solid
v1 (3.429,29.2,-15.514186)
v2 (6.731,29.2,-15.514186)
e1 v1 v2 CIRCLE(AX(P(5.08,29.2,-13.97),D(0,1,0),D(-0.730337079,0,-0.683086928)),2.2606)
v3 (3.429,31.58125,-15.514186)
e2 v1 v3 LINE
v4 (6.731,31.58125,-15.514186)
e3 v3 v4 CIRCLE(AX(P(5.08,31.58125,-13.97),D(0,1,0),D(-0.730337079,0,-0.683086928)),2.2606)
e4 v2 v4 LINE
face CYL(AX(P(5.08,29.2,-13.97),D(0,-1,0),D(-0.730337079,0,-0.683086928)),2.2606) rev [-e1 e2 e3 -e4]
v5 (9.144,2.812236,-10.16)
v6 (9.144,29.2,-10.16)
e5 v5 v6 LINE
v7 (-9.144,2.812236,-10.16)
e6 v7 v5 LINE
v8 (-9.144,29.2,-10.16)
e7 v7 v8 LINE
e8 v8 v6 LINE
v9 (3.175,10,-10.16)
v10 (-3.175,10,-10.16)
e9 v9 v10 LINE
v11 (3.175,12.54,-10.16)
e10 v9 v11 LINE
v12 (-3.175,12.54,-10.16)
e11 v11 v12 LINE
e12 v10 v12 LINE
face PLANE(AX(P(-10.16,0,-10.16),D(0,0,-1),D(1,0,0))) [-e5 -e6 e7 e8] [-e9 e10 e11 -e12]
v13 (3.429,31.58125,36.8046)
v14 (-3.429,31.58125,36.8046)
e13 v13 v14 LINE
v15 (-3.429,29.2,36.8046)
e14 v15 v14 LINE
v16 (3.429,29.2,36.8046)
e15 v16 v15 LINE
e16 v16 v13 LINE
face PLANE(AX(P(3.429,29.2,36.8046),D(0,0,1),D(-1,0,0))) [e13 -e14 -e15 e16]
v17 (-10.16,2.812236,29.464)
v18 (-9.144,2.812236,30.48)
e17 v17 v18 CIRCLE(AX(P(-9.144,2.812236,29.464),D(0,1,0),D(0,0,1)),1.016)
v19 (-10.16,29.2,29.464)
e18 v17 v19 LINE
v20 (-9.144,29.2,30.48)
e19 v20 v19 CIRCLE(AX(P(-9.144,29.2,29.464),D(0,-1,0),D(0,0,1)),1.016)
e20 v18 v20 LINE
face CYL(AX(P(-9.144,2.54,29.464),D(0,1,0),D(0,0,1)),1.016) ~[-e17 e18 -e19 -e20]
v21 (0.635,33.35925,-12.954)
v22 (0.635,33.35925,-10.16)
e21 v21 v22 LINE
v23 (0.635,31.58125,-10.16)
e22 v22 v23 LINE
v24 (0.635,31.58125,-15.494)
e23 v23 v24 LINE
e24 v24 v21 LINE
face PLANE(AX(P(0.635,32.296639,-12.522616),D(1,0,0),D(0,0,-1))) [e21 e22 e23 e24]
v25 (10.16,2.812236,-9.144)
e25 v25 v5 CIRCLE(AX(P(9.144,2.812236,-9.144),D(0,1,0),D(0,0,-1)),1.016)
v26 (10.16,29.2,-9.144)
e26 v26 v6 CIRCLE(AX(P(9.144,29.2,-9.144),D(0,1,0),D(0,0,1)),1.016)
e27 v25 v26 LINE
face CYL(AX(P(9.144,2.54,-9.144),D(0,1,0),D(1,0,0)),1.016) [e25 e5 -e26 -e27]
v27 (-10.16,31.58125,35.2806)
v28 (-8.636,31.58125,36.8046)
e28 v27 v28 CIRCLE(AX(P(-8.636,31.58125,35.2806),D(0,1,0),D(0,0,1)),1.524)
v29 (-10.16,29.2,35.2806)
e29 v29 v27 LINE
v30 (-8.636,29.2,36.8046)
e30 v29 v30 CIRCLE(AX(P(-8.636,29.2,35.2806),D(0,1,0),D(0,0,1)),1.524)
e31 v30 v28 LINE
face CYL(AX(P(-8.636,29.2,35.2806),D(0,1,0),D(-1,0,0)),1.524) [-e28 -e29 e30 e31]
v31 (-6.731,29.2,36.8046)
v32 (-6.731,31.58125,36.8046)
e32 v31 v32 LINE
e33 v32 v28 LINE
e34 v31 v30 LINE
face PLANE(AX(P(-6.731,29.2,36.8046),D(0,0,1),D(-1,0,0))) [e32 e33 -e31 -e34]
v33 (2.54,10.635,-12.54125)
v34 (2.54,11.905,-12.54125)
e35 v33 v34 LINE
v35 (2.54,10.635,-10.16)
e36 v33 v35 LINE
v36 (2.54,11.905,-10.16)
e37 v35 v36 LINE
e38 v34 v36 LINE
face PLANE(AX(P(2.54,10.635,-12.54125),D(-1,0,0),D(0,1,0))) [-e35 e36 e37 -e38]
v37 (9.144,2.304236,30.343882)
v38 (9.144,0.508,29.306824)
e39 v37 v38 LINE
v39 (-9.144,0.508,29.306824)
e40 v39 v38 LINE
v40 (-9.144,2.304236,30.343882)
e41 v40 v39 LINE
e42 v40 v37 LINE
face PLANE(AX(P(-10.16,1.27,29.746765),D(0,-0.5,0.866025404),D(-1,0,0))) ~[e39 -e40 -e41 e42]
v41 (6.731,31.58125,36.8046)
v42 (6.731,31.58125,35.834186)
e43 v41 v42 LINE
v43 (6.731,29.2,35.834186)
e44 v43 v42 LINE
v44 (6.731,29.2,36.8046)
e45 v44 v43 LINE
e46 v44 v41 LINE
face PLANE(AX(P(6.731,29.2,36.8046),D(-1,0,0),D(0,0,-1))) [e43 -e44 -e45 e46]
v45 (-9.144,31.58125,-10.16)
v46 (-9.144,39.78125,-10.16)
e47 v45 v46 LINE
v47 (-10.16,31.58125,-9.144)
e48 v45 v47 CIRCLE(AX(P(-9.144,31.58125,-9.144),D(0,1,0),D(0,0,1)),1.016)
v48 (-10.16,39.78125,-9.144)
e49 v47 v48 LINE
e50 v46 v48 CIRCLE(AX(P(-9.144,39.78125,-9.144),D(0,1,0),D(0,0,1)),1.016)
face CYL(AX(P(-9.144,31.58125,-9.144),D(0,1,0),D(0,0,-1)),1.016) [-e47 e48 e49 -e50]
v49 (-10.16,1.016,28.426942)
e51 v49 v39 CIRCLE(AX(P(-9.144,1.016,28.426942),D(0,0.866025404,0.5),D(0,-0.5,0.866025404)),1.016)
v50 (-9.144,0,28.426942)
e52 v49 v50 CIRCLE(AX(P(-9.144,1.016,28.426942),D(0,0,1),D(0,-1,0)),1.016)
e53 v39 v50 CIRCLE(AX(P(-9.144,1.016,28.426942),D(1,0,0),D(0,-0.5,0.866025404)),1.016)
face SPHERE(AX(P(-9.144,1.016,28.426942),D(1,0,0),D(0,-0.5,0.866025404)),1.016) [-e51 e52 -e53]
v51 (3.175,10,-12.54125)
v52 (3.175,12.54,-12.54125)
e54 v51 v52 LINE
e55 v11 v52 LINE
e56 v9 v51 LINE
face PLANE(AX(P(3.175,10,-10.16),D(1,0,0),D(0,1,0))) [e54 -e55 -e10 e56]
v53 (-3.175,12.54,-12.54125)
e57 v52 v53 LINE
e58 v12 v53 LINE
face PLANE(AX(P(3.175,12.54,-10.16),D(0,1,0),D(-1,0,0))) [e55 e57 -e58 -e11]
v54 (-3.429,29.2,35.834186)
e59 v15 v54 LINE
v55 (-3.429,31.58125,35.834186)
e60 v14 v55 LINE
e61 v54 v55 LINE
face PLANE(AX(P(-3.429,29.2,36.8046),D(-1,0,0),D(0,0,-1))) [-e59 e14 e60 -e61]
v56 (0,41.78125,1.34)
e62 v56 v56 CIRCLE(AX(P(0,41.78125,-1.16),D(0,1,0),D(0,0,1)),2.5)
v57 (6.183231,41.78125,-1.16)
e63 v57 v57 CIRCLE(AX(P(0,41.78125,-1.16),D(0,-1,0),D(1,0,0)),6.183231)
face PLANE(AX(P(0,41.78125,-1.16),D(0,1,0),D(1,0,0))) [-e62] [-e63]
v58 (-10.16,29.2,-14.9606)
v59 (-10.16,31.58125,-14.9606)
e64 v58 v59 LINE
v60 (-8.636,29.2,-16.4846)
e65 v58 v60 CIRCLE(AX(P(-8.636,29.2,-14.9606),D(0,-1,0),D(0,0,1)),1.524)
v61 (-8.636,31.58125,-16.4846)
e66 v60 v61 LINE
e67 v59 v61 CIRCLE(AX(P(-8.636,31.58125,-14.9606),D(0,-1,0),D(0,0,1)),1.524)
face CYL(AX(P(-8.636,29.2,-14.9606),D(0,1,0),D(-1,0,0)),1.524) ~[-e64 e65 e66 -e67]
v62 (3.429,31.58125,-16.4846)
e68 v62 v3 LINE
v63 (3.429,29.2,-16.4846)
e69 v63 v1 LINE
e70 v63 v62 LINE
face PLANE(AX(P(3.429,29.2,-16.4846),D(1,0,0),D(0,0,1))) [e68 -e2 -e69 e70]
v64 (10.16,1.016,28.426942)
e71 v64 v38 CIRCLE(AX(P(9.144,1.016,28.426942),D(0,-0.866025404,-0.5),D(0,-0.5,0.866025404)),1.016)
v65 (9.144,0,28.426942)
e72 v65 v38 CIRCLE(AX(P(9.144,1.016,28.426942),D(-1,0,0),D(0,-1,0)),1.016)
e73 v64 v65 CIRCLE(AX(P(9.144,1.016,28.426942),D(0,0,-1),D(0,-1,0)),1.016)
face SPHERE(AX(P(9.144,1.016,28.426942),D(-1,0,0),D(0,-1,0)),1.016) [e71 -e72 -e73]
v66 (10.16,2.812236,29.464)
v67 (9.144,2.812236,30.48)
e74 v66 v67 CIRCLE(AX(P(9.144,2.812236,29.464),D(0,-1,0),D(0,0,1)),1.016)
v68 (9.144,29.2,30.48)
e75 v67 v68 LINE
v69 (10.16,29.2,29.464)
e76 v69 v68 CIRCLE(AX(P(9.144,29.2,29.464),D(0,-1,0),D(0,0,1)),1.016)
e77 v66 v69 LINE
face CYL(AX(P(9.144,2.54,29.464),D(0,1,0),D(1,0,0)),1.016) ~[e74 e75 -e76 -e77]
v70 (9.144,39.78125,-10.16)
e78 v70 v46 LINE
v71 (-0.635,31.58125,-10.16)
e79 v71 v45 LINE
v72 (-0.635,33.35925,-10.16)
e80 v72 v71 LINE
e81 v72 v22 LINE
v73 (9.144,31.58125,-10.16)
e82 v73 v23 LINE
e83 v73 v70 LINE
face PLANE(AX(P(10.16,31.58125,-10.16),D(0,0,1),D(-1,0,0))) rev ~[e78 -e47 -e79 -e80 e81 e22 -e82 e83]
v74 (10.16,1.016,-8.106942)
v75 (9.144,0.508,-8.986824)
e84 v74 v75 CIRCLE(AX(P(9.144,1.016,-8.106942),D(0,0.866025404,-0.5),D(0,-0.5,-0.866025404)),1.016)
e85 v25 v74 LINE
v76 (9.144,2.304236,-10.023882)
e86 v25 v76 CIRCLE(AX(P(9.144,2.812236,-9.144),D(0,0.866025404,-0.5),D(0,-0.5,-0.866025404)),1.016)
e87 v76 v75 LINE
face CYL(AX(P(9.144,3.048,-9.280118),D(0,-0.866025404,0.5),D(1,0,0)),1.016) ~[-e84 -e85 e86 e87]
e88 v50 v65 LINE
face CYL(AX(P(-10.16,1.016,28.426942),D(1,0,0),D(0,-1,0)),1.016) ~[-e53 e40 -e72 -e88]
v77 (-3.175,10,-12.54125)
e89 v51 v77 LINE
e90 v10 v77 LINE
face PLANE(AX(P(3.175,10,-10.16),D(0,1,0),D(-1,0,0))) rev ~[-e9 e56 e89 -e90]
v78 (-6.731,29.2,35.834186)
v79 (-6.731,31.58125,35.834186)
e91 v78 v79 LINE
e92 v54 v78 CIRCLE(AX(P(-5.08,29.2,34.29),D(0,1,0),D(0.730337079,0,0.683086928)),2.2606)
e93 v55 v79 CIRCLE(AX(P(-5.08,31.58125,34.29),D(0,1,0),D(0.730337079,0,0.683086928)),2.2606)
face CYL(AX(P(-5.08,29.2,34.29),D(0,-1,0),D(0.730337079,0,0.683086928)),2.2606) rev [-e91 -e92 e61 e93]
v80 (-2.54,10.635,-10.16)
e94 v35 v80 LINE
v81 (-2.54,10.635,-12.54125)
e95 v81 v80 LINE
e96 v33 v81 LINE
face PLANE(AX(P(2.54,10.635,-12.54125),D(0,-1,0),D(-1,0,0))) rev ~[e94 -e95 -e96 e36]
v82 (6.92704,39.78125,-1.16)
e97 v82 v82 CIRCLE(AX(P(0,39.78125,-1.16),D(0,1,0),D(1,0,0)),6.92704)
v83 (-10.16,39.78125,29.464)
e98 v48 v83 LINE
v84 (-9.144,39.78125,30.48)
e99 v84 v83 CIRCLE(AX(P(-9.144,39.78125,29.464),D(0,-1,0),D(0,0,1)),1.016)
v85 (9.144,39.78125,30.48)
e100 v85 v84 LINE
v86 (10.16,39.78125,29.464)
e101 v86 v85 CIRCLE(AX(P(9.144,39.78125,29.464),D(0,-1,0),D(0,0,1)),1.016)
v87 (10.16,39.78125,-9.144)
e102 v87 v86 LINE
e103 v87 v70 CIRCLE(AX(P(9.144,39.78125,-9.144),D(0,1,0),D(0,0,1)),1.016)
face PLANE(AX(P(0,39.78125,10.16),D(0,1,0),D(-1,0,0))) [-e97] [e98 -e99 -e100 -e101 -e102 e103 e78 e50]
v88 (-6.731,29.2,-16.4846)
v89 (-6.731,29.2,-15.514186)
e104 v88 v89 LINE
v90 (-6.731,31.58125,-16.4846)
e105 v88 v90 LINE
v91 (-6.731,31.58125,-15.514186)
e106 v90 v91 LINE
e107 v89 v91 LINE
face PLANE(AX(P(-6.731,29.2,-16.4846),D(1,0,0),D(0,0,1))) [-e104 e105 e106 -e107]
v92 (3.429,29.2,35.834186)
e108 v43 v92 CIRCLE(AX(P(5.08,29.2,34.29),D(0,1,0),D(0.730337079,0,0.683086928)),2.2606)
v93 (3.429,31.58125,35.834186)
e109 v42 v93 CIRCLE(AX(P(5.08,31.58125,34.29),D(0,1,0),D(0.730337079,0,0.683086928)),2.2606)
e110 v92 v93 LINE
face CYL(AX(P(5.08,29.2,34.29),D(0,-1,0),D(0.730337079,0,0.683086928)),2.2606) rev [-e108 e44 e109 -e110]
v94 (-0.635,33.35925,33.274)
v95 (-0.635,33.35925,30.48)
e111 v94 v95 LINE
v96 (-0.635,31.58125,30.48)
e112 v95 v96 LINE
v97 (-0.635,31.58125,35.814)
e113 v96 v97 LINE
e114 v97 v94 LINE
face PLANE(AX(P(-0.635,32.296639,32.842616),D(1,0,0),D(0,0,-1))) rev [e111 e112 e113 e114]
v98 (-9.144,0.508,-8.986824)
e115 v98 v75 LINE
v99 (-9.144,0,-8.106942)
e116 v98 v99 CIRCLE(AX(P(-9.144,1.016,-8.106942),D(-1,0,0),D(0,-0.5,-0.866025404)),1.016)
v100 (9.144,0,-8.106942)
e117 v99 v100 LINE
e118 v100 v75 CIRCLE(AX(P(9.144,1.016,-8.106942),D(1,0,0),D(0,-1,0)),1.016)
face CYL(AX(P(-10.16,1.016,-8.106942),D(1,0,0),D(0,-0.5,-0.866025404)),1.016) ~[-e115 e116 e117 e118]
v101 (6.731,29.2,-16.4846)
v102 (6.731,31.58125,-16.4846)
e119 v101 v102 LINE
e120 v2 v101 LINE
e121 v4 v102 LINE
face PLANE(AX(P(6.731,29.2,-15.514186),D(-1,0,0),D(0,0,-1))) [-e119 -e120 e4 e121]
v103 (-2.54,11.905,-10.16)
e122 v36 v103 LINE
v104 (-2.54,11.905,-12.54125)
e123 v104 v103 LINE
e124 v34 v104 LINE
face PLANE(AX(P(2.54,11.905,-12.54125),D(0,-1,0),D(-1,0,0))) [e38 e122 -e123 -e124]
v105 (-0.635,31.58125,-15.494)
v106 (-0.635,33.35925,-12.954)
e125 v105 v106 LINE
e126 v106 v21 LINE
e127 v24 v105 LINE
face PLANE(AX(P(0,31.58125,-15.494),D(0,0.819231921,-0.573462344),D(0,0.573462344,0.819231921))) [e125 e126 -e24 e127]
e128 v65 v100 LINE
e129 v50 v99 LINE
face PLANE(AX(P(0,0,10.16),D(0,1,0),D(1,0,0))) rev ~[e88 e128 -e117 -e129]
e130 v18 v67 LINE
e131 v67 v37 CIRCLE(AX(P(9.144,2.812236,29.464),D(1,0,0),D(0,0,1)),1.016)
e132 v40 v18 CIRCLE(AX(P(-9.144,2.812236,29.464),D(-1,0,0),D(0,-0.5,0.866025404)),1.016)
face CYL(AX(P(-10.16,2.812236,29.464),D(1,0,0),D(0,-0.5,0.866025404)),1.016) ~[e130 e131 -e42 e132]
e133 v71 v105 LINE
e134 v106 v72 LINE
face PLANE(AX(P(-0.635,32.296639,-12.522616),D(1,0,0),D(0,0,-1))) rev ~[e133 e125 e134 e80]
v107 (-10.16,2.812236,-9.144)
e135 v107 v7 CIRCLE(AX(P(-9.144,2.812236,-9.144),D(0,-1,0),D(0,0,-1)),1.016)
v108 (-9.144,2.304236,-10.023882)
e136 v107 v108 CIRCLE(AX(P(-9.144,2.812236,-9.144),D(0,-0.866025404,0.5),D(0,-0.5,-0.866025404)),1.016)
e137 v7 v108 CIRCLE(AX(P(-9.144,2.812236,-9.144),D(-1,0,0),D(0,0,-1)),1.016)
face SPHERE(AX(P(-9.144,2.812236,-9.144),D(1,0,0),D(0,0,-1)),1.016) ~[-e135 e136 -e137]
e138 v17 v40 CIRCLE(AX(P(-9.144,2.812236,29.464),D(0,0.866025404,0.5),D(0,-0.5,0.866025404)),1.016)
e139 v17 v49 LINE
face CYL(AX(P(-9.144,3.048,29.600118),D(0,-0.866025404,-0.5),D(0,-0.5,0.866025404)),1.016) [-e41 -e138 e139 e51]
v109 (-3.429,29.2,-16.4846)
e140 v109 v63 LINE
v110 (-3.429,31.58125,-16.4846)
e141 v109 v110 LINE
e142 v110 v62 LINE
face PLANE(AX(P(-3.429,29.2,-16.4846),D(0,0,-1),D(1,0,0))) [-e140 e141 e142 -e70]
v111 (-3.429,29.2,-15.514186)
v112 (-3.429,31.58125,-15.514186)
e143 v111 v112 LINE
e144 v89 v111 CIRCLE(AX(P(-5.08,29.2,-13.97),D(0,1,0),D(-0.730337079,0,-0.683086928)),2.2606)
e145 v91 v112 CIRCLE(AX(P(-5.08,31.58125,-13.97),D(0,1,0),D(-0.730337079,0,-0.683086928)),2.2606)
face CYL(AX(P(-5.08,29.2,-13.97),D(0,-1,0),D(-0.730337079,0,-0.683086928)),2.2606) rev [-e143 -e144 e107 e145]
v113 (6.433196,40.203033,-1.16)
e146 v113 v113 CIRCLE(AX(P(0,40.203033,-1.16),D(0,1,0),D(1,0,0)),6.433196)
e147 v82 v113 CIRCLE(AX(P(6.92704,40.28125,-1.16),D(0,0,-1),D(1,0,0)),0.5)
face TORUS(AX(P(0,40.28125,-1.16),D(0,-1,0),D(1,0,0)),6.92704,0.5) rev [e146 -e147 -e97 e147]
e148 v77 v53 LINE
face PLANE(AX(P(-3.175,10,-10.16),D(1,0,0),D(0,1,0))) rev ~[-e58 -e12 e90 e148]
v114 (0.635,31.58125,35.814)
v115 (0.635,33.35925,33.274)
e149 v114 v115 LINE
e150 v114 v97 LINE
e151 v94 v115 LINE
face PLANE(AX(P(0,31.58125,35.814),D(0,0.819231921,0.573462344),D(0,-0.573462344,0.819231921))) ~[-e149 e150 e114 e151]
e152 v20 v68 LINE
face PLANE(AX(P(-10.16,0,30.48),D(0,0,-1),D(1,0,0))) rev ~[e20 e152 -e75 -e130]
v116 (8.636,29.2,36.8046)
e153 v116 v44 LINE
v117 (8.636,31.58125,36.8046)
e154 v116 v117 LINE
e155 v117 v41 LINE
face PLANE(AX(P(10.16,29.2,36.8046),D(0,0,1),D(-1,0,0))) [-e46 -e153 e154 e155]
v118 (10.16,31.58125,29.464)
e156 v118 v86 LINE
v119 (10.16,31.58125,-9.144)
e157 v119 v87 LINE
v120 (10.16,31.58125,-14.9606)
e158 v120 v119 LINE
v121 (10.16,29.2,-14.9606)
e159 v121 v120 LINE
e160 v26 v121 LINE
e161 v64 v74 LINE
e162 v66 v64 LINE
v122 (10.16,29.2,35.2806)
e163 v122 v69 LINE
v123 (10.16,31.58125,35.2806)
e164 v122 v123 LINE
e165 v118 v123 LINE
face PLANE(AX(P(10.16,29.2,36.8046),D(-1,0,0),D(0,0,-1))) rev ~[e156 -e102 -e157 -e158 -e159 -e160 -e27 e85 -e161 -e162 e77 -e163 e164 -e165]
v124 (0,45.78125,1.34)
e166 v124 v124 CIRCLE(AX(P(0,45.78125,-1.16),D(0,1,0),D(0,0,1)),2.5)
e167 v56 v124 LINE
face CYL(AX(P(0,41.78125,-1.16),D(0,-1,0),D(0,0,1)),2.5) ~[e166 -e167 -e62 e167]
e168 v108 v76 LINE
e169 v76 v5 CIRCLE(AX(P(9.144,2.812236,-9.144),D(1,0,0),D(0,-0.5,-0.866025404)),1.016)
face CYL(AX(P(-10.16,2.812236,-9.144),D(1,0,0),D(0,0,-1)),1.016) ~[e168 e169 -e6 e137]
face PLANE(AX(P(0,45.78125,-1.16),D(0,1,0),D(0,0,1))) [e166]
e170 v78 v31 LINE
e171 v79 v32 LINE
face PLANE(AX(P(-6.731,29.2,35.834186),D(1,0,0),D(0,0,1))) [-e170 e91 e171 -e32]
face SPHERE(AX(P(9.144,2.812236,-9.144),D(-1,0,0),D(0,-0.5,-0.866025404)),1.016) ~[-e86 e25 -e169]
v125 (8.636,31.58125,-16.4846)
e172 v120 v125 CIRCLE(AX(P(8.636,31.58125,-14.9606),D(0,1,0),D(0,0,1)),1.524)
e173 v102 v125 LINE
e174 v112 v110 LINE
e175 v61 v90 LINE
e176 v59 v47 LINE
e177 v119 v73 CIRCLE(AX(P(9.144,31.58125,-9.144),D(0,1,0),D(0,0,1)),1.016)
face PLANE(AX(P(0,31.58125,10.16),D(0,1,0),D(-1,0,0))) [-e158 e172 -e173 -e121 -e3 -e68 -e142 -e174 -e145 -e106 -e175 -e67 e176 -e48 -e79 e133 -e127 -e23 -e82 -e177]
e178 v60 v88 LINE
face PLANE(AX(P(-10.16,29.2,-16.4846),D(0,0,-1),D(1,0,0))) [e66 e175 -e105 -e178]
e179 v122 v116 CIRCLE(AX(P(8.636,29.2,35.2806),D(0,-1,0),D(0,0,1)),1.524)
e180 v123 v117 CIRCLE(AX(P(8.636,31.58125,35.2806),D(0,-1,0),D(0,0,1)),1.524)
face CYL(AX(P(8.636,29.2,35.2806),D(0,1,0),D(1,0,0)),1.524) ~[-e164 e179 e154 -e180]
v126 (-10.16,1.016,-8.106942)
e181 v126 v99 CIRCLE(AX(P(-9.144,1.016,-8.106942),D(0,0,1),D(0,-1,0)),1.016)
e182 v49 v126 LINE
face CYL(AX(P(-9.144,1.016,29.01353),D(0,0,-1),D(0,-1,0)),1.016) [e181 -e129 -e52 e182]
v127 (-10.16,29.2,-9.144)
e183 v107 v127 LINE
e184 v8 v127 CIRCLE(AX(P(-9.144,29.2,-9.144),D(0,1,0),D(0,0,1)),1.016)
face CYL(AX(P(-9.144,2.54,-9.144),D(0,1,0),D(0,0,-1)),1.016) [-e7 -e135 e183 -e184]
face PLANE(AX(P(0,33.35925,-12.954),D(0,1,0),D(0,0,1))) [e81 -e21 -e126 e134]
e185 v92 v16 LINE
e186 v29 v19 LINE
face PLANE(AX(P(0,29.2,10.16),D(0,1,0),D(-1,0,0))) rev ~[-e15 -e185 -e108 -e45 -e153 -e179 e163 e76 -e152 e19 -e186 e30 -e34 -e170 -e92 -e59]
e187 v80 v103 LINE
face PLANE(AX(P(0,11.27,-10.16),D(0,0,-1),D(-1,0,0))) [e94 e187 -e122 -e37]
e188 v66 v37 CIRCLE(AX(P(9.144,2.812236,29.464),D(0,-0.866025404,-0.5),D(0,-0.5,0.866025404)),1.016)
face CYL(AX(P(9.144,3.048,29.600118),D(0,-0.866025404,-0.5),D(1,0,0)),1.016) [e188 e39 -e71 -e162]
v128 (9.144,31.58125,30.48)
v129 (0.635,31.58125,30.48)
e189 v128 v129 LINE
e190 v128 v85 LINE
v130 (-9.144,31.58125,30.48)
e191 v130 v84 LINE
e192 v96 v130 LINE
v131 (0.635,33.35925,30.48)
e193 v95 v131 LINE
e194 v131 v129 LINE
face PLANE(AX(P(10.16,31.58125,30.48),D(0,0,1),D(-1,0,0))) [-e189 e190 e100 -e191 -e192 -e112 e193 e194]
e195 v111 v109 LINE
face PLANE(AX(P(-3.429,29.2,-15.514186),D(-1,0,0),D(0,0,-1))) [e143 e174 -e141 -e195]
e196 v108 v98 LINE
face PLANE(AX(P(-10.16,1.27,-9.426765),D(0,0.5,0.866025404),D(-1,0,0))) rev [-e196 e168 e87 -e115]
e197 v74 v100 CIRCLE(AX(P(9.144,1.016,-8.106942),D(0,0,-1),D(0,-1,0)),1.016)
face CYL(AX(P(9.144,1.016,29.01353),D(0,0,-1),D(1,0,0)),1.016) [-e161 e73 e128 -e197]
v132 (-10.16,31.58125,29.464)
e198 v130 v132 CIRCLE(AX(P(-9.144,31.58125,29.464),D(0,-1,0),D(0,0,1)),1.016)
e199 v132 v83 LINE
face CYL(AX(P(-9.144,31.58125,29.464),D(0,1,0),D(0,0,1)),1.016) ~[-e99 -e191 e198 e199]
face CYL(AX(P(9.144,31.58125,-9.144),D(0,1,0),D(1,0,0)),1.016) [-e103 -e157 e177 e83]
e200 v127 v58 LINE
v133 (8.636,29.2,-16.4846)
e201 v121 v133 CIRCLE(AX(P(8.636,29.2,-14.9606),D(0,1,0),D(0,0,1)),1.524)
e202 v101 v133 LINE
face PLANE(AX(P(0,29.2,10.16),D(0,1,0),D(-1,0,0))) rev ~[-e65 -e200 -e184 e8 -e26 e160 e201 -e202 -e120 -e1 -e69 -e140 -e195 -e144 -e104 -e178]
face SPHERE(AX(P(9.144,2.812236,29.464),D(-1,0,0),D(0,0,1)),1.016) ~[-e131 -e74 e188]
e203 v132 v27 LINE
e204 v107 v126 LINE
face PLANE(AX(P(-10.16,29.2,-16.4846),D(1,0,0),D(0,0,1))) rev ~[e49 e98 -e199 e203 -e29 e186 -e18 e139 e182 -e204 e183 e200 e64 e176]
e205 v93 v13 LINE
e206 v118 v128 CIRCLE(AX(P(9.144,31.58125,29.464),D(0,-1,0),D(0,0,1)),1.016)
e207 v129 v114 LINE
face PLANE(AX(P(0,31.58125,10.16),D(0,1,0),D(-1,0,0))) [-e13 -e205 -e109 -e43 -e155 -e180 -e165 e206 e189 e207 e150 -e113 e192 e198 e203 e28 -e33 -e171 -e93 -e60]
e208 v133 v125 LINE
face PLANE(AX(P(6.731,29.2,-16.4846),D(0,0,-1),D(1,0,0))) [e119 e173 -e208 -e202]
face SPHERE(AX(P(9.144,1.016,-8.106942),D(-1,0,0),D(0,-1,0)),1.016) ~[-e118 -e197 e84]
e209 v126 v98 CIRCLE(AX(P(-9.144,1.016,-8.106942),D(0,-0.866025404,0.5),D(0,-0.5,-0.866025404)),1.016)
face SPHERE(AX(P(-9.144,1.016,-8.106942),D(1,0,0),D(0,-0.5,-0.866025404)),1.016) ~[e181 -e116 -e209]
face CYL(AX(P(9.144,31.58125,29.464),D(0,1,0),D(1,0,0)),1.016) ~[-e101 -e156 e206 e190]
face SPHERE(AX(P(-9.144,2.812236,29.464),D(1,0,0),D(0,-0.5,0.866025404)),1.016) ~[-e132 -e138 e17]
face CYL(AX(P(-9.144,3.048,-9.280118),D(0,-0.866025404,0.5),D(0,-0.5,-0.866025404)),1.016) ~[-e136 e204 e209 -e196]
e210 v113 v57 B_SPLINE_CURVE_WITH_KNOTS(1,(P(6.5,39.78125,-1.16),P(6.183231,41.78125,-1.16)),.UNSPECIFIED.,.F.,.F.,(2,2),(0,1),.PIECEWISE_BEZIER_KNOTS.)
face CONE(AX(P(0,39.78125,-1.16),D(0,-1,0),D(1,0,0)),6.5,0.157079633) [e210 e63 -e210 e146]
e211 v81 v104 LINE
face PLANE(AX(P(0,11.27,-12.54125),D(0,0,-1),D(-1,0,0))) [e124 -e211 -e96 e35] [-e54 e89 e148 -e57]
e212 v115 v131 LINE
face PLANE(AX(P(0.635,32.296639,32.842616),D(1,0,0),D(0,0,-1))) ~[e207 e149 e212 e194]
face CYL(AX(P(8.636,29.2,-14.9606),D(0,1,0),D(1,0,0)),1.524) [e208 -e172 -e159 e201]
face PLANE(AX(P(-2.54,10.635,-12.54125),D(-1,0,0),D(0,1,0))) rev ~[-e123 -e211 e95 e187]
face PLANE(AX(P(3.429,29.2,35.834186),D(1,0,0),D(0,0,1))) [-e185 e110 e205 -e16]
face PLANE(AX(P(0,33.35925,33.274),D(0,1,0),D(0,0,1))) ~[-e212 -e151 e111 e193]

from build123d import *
from OCP.BRepFilletAPI import BRepFilletAPI_MakeChamfer

# Parameters (mm, degrees)
SKETCH1_W          = 20.32
SKETCH1_H          = 40.64
EXTRUDE1_DEPTH     = 29.2
SKETCH2_W          = 20.32
SKETCH2_H          = 40.64
EXTRUDE2_DEPTH     = 2.38125
SKETCH3_W          = 20.32
SKETCH3_H          = 40.64
EXTRUDE3_DEPTH     = 8.2
EXTRUDE6_DEPTH     = 0.635
CHAMFER2_SIZE      = 2.54
CHAMFER2_SIZE2     = 1.466469684
FILLET1_R          = 1.016
FILLET2_R          = 1.524
SKETCH9_W          = 6.35
SKETCH9_H          = 2.54
EXTRUDE8_DEPTH     = 2.38125
SKETCH10_W         = 5.08
SKETCH10_H         = 1.27
CUT_EXTRUDE1_DEPTH = 2.38125
SKETCH_1_R         = 6.5
EXTRUDE_1_DEPTH    = 2
EXTRUDE_1_TAPER    = 9
FILLET_1_R         = 0.5
SKETCH_2_R         = 2.5
EXTRUDE_2_DEPTH    = 4


with BuildPart() as part:
    # Sketch1 → Extrude1 (new body)
    with BuildSketch(Plane(origin=(0, 0, 0), x_dir=(1, 0, 0), z_dir=(0, 1, 0))):
        with Locations((0, -10.16)):
            Rectangle(SKETCH1_W, SKETCH1_H)
    extrude(amount=EXTRUDE1_DEPTH)

    # Sketch2 → Extrude2 (add)
    with BuildSketch(Plane(origin=(0, 29.2, 0), x_dir=(-1, 0, 0), z_dir=(0, 1, 0))):
        with Locations((0, 10.16)):
            Rectangle(SKETCH2_W, SKETCH2_H)
        with BuildLine():
            ThreePointArc((6.731, -15.51418631), (5.08, -11.7094), (3.429, -15.51418631))
            Line((3.429, -15.51418631), (3.429, -16.4846))
            Line((3.429, -16.4846), (-3.429, -16.4846))
            Line((-3.429, -16.4846), (-3.429, -15.51418631))
            ThreePointArc((-3.429, -15.51418631), (-5.08, -11.7094), (-6.731, -15.51418631))
            Line((-6.731, -15.51418631), (-6.731, -16.4846))
            Line((-6.731, -16.4846), (-10.16, -16.4846))
            Line((-10.16, -16.4846), (-10.16, -10.16))
            Line((-10.16, -10.16), (10.16, -10.16))
            Line((10.16, -10.16), (10.16, -16.4846))
            Line((10.16, -16.4846), (6.731, -16.4846))
            Line((6.731, -16.4846), (6.731, -15.51418631))
        make_face()
        with BuildLine():
            ThreePointArc((-6.731, 35.83418631), (-5.08, 32.0294), (-3.429, 35.83418631))
            Line((-3.429, 35.83418631), (-3.429, 36.8046))
            Line((-3.429, 36.8046), (3.429, 36.8046))
            Line((3.429, 36.8046), (3.429, 35.83418631))
            ThreePointArc((3.429, 35.83418631), (5.08, 32.0294), (6.731, 35.83418631))
            Line((6.731, 35.83418631), (6.731, 36.8046))
            Line((6.731, 36.8046), (10.16, 36.8046))
            Line((10.16, 36.8046), (10.16, 30.48))
            Line((10.16, 30.48), (-10.16, 30.48))
            Line((-10.16, 30.48), (-10.16, 36.8046))
            Line((-10.16, 36.8046), (-6.731, 36.8046))
            Line((-6.731, 36.8046), (-6.731, 35.83418631))
        make_face()
    extrude(amount=EXTRUDE2_DEPTH)

    # Sketch3 → Extrude3 (add)
    with BuildSketch(Plane(origin=(0, 31.58125, 0), x_dir=(-1, 0, 0), z_dir=(0, 1, 0))):
        with Locations((0, 10.16)):
            Rectangle(SKETCH3_W, SKETCH3_H)
    extrude(amount=EXTRUDE3_DEPTH)

    # Sketch7 → Extrude6 (add, symmetric)
    with BuildSketch(Plane(origin=(0, 0, 0), x_dir=(0, 0, -1), z_dir=(1, 0, 0))):
        Polygon((15.494, 31.58125), (12.954, 33.35925), (10.16, 33.35925), (10.16, 31.58125), align=None)
    extrude6 = extrude(amount=EXTRUDE6_DEPTH, both=True)

    # Mirror1: Extrude6 across plane
    add(extrude6.mirror(Plane(origin=(0, 0, 10.16), x_dir=(1, 0, 0), z_dir=(0, 0, -1))))

    # Chamfer2: one chamfer whose edges measure the first distance from different faces: ONE call of the kernel's chamfer builder (chamfer() names one face for all edges)
    chamfer2_edges_1 = [part.edges().sort_by_distance(p)[0] for p in [
        (0, 0, -10.16),
    ]]
    chamfer2_side_1 = [part.faces().sort_by_distance(p)[0] for p in [
        (0, 14.6, -10.16),
    ]]
    chamfer2_edges_2 = [part.edges().sort_by_distance(p)[0] for p in [
        (0, 0, 30.48),
    ]]
    chamfer2_side_2 = [part.faces().sort_by_distance(p)[0] for p in [
        (0, 14.6, 30.48),
    ]]
    chamfer2 = BRepFilletAPI_MakeChamfer(part.part.solid().wrapped)
    for e in chamfer2_edges_1:
        chamfer2.Add(CHAMFER2_SIZE, CHAMFER2_SIZE2, e.wrapped, chamfer2_side_1[0].wrapped)  # the first distance lies on this face
    for e in chamfer2_edges_2:
        chamfer2.Add(CHAMFER2_SIZE, CHAMFER2_SIZE2, e.wrapped, chamfer2_side_2[0].wrapped)  # the first distance lies on this face
    add(Compound.cast(chamfer2.Shape()), mode=Mode.REPLACE)

    # Fillet1
    fillet1_edges = [part.edges().sort_by_distance(p)[0] for p in [
        (-10.16, 35.68125, -10.16),
        (10.16, 35.68125, -10.16),
        (10.16, 35.68125, 30.48),
        (10.16, 0, 10.16),
        (10.16, 1.27, -9.426765158),
        (10.16, 15.87, -10.16),
        (0, 0, -8.693530316),
        (0, 2.54, -10.16),
        (-10.16, 15.87, -10.16),
        (-10.16, 1.27, -9.426765158),
        (10.16, 15.87, 30.48),
        (10.16, 1.27, 29.746765158),
        (0, 2.54, 30.48),
        (-10.16, 0, 10.16),
        (0, 0, 29.013530316),
        (-10.16, 1.27, 29.746765158),
        (-10.16, 15.87, 30.48),
        (-10.16, 35.68125, 30.48),
    ]]
    fillet(fillet1_edges, radius=FILLET1_R)

    # Fillet2
    fillet2_edges = [part.edges().sort_by_distance(p)[0] for p in [
        (-10.16, 30.390625, 36.8046),
        (10.16, 30.390625, 36.8046),
        (-10.16, 30.390625, -16.4846),
        (10.16, 30.390625, -16.4846),
    ]]
    fillet(fillet2_edges, radius=FILLET2_R)

    # Sketch9 → Extrude8 (add)
    with BuildSketch(Plane(origin=(0, 0, -10.16), x_dir=(-1, 0, 0), z_dir=(0, 0, -1))):
        with Locations((0, 11.27)):
            Rectangle(SKETCH9_W, SKETCH9_H)
    extrude(amount=EXTRUDE8_DEPTH)

    # Sketch10 → Cut-Extrude1 (cut)
    with BuildSketch(Plane(origin=(0, 0, -12.54125), x_dir=(-1, 0, 0), z_dir=(0, 0, -1))):
        with Locations((0, 11.27)):
            Rectangle(SKETCH10_W, SKETCH10_H)
    extrude(amount=-CUT_EXTRUDE1_DEPTH, mode=Mode.SUBTRACT)

    # Эскиз1 → Вытянуть1 (add)
    with BuildSketch(Plane(origin=(0, 39.78125, 0), x_dir=(1, 0, 0), z_dir=(0, 1, 0))):
        with Locations((0, 1.16)):
            Circle(SKETCH_1_R)
    extrude(amount=EXTRUDE_1_DEPTH, taper=EXTRUDE_1_TAPER)

    # Скругление1
    fillet_1_edges = [part.edges().sort_by_distance(p)[0] for p in [
        (-6.5, 39.78125, -1.16),
    ]]
    fillet(fillet_1_edges, radius=FILLET_1_R)

    # Эскиз2 → Вытянуть2 (add)
    with BuildSketch(Plane(origin=(0, 41.78125, 0), x_dir=(1, 0, 0), z_dir=(0, 1, 0))):
        with Locations(Location((0, 1.16, 0), (0, 0, 270))):
            Circle(SKETCH_2_R)
    extrude(amount=EXTRUDE_2_DEPTH)


solid = part.part
